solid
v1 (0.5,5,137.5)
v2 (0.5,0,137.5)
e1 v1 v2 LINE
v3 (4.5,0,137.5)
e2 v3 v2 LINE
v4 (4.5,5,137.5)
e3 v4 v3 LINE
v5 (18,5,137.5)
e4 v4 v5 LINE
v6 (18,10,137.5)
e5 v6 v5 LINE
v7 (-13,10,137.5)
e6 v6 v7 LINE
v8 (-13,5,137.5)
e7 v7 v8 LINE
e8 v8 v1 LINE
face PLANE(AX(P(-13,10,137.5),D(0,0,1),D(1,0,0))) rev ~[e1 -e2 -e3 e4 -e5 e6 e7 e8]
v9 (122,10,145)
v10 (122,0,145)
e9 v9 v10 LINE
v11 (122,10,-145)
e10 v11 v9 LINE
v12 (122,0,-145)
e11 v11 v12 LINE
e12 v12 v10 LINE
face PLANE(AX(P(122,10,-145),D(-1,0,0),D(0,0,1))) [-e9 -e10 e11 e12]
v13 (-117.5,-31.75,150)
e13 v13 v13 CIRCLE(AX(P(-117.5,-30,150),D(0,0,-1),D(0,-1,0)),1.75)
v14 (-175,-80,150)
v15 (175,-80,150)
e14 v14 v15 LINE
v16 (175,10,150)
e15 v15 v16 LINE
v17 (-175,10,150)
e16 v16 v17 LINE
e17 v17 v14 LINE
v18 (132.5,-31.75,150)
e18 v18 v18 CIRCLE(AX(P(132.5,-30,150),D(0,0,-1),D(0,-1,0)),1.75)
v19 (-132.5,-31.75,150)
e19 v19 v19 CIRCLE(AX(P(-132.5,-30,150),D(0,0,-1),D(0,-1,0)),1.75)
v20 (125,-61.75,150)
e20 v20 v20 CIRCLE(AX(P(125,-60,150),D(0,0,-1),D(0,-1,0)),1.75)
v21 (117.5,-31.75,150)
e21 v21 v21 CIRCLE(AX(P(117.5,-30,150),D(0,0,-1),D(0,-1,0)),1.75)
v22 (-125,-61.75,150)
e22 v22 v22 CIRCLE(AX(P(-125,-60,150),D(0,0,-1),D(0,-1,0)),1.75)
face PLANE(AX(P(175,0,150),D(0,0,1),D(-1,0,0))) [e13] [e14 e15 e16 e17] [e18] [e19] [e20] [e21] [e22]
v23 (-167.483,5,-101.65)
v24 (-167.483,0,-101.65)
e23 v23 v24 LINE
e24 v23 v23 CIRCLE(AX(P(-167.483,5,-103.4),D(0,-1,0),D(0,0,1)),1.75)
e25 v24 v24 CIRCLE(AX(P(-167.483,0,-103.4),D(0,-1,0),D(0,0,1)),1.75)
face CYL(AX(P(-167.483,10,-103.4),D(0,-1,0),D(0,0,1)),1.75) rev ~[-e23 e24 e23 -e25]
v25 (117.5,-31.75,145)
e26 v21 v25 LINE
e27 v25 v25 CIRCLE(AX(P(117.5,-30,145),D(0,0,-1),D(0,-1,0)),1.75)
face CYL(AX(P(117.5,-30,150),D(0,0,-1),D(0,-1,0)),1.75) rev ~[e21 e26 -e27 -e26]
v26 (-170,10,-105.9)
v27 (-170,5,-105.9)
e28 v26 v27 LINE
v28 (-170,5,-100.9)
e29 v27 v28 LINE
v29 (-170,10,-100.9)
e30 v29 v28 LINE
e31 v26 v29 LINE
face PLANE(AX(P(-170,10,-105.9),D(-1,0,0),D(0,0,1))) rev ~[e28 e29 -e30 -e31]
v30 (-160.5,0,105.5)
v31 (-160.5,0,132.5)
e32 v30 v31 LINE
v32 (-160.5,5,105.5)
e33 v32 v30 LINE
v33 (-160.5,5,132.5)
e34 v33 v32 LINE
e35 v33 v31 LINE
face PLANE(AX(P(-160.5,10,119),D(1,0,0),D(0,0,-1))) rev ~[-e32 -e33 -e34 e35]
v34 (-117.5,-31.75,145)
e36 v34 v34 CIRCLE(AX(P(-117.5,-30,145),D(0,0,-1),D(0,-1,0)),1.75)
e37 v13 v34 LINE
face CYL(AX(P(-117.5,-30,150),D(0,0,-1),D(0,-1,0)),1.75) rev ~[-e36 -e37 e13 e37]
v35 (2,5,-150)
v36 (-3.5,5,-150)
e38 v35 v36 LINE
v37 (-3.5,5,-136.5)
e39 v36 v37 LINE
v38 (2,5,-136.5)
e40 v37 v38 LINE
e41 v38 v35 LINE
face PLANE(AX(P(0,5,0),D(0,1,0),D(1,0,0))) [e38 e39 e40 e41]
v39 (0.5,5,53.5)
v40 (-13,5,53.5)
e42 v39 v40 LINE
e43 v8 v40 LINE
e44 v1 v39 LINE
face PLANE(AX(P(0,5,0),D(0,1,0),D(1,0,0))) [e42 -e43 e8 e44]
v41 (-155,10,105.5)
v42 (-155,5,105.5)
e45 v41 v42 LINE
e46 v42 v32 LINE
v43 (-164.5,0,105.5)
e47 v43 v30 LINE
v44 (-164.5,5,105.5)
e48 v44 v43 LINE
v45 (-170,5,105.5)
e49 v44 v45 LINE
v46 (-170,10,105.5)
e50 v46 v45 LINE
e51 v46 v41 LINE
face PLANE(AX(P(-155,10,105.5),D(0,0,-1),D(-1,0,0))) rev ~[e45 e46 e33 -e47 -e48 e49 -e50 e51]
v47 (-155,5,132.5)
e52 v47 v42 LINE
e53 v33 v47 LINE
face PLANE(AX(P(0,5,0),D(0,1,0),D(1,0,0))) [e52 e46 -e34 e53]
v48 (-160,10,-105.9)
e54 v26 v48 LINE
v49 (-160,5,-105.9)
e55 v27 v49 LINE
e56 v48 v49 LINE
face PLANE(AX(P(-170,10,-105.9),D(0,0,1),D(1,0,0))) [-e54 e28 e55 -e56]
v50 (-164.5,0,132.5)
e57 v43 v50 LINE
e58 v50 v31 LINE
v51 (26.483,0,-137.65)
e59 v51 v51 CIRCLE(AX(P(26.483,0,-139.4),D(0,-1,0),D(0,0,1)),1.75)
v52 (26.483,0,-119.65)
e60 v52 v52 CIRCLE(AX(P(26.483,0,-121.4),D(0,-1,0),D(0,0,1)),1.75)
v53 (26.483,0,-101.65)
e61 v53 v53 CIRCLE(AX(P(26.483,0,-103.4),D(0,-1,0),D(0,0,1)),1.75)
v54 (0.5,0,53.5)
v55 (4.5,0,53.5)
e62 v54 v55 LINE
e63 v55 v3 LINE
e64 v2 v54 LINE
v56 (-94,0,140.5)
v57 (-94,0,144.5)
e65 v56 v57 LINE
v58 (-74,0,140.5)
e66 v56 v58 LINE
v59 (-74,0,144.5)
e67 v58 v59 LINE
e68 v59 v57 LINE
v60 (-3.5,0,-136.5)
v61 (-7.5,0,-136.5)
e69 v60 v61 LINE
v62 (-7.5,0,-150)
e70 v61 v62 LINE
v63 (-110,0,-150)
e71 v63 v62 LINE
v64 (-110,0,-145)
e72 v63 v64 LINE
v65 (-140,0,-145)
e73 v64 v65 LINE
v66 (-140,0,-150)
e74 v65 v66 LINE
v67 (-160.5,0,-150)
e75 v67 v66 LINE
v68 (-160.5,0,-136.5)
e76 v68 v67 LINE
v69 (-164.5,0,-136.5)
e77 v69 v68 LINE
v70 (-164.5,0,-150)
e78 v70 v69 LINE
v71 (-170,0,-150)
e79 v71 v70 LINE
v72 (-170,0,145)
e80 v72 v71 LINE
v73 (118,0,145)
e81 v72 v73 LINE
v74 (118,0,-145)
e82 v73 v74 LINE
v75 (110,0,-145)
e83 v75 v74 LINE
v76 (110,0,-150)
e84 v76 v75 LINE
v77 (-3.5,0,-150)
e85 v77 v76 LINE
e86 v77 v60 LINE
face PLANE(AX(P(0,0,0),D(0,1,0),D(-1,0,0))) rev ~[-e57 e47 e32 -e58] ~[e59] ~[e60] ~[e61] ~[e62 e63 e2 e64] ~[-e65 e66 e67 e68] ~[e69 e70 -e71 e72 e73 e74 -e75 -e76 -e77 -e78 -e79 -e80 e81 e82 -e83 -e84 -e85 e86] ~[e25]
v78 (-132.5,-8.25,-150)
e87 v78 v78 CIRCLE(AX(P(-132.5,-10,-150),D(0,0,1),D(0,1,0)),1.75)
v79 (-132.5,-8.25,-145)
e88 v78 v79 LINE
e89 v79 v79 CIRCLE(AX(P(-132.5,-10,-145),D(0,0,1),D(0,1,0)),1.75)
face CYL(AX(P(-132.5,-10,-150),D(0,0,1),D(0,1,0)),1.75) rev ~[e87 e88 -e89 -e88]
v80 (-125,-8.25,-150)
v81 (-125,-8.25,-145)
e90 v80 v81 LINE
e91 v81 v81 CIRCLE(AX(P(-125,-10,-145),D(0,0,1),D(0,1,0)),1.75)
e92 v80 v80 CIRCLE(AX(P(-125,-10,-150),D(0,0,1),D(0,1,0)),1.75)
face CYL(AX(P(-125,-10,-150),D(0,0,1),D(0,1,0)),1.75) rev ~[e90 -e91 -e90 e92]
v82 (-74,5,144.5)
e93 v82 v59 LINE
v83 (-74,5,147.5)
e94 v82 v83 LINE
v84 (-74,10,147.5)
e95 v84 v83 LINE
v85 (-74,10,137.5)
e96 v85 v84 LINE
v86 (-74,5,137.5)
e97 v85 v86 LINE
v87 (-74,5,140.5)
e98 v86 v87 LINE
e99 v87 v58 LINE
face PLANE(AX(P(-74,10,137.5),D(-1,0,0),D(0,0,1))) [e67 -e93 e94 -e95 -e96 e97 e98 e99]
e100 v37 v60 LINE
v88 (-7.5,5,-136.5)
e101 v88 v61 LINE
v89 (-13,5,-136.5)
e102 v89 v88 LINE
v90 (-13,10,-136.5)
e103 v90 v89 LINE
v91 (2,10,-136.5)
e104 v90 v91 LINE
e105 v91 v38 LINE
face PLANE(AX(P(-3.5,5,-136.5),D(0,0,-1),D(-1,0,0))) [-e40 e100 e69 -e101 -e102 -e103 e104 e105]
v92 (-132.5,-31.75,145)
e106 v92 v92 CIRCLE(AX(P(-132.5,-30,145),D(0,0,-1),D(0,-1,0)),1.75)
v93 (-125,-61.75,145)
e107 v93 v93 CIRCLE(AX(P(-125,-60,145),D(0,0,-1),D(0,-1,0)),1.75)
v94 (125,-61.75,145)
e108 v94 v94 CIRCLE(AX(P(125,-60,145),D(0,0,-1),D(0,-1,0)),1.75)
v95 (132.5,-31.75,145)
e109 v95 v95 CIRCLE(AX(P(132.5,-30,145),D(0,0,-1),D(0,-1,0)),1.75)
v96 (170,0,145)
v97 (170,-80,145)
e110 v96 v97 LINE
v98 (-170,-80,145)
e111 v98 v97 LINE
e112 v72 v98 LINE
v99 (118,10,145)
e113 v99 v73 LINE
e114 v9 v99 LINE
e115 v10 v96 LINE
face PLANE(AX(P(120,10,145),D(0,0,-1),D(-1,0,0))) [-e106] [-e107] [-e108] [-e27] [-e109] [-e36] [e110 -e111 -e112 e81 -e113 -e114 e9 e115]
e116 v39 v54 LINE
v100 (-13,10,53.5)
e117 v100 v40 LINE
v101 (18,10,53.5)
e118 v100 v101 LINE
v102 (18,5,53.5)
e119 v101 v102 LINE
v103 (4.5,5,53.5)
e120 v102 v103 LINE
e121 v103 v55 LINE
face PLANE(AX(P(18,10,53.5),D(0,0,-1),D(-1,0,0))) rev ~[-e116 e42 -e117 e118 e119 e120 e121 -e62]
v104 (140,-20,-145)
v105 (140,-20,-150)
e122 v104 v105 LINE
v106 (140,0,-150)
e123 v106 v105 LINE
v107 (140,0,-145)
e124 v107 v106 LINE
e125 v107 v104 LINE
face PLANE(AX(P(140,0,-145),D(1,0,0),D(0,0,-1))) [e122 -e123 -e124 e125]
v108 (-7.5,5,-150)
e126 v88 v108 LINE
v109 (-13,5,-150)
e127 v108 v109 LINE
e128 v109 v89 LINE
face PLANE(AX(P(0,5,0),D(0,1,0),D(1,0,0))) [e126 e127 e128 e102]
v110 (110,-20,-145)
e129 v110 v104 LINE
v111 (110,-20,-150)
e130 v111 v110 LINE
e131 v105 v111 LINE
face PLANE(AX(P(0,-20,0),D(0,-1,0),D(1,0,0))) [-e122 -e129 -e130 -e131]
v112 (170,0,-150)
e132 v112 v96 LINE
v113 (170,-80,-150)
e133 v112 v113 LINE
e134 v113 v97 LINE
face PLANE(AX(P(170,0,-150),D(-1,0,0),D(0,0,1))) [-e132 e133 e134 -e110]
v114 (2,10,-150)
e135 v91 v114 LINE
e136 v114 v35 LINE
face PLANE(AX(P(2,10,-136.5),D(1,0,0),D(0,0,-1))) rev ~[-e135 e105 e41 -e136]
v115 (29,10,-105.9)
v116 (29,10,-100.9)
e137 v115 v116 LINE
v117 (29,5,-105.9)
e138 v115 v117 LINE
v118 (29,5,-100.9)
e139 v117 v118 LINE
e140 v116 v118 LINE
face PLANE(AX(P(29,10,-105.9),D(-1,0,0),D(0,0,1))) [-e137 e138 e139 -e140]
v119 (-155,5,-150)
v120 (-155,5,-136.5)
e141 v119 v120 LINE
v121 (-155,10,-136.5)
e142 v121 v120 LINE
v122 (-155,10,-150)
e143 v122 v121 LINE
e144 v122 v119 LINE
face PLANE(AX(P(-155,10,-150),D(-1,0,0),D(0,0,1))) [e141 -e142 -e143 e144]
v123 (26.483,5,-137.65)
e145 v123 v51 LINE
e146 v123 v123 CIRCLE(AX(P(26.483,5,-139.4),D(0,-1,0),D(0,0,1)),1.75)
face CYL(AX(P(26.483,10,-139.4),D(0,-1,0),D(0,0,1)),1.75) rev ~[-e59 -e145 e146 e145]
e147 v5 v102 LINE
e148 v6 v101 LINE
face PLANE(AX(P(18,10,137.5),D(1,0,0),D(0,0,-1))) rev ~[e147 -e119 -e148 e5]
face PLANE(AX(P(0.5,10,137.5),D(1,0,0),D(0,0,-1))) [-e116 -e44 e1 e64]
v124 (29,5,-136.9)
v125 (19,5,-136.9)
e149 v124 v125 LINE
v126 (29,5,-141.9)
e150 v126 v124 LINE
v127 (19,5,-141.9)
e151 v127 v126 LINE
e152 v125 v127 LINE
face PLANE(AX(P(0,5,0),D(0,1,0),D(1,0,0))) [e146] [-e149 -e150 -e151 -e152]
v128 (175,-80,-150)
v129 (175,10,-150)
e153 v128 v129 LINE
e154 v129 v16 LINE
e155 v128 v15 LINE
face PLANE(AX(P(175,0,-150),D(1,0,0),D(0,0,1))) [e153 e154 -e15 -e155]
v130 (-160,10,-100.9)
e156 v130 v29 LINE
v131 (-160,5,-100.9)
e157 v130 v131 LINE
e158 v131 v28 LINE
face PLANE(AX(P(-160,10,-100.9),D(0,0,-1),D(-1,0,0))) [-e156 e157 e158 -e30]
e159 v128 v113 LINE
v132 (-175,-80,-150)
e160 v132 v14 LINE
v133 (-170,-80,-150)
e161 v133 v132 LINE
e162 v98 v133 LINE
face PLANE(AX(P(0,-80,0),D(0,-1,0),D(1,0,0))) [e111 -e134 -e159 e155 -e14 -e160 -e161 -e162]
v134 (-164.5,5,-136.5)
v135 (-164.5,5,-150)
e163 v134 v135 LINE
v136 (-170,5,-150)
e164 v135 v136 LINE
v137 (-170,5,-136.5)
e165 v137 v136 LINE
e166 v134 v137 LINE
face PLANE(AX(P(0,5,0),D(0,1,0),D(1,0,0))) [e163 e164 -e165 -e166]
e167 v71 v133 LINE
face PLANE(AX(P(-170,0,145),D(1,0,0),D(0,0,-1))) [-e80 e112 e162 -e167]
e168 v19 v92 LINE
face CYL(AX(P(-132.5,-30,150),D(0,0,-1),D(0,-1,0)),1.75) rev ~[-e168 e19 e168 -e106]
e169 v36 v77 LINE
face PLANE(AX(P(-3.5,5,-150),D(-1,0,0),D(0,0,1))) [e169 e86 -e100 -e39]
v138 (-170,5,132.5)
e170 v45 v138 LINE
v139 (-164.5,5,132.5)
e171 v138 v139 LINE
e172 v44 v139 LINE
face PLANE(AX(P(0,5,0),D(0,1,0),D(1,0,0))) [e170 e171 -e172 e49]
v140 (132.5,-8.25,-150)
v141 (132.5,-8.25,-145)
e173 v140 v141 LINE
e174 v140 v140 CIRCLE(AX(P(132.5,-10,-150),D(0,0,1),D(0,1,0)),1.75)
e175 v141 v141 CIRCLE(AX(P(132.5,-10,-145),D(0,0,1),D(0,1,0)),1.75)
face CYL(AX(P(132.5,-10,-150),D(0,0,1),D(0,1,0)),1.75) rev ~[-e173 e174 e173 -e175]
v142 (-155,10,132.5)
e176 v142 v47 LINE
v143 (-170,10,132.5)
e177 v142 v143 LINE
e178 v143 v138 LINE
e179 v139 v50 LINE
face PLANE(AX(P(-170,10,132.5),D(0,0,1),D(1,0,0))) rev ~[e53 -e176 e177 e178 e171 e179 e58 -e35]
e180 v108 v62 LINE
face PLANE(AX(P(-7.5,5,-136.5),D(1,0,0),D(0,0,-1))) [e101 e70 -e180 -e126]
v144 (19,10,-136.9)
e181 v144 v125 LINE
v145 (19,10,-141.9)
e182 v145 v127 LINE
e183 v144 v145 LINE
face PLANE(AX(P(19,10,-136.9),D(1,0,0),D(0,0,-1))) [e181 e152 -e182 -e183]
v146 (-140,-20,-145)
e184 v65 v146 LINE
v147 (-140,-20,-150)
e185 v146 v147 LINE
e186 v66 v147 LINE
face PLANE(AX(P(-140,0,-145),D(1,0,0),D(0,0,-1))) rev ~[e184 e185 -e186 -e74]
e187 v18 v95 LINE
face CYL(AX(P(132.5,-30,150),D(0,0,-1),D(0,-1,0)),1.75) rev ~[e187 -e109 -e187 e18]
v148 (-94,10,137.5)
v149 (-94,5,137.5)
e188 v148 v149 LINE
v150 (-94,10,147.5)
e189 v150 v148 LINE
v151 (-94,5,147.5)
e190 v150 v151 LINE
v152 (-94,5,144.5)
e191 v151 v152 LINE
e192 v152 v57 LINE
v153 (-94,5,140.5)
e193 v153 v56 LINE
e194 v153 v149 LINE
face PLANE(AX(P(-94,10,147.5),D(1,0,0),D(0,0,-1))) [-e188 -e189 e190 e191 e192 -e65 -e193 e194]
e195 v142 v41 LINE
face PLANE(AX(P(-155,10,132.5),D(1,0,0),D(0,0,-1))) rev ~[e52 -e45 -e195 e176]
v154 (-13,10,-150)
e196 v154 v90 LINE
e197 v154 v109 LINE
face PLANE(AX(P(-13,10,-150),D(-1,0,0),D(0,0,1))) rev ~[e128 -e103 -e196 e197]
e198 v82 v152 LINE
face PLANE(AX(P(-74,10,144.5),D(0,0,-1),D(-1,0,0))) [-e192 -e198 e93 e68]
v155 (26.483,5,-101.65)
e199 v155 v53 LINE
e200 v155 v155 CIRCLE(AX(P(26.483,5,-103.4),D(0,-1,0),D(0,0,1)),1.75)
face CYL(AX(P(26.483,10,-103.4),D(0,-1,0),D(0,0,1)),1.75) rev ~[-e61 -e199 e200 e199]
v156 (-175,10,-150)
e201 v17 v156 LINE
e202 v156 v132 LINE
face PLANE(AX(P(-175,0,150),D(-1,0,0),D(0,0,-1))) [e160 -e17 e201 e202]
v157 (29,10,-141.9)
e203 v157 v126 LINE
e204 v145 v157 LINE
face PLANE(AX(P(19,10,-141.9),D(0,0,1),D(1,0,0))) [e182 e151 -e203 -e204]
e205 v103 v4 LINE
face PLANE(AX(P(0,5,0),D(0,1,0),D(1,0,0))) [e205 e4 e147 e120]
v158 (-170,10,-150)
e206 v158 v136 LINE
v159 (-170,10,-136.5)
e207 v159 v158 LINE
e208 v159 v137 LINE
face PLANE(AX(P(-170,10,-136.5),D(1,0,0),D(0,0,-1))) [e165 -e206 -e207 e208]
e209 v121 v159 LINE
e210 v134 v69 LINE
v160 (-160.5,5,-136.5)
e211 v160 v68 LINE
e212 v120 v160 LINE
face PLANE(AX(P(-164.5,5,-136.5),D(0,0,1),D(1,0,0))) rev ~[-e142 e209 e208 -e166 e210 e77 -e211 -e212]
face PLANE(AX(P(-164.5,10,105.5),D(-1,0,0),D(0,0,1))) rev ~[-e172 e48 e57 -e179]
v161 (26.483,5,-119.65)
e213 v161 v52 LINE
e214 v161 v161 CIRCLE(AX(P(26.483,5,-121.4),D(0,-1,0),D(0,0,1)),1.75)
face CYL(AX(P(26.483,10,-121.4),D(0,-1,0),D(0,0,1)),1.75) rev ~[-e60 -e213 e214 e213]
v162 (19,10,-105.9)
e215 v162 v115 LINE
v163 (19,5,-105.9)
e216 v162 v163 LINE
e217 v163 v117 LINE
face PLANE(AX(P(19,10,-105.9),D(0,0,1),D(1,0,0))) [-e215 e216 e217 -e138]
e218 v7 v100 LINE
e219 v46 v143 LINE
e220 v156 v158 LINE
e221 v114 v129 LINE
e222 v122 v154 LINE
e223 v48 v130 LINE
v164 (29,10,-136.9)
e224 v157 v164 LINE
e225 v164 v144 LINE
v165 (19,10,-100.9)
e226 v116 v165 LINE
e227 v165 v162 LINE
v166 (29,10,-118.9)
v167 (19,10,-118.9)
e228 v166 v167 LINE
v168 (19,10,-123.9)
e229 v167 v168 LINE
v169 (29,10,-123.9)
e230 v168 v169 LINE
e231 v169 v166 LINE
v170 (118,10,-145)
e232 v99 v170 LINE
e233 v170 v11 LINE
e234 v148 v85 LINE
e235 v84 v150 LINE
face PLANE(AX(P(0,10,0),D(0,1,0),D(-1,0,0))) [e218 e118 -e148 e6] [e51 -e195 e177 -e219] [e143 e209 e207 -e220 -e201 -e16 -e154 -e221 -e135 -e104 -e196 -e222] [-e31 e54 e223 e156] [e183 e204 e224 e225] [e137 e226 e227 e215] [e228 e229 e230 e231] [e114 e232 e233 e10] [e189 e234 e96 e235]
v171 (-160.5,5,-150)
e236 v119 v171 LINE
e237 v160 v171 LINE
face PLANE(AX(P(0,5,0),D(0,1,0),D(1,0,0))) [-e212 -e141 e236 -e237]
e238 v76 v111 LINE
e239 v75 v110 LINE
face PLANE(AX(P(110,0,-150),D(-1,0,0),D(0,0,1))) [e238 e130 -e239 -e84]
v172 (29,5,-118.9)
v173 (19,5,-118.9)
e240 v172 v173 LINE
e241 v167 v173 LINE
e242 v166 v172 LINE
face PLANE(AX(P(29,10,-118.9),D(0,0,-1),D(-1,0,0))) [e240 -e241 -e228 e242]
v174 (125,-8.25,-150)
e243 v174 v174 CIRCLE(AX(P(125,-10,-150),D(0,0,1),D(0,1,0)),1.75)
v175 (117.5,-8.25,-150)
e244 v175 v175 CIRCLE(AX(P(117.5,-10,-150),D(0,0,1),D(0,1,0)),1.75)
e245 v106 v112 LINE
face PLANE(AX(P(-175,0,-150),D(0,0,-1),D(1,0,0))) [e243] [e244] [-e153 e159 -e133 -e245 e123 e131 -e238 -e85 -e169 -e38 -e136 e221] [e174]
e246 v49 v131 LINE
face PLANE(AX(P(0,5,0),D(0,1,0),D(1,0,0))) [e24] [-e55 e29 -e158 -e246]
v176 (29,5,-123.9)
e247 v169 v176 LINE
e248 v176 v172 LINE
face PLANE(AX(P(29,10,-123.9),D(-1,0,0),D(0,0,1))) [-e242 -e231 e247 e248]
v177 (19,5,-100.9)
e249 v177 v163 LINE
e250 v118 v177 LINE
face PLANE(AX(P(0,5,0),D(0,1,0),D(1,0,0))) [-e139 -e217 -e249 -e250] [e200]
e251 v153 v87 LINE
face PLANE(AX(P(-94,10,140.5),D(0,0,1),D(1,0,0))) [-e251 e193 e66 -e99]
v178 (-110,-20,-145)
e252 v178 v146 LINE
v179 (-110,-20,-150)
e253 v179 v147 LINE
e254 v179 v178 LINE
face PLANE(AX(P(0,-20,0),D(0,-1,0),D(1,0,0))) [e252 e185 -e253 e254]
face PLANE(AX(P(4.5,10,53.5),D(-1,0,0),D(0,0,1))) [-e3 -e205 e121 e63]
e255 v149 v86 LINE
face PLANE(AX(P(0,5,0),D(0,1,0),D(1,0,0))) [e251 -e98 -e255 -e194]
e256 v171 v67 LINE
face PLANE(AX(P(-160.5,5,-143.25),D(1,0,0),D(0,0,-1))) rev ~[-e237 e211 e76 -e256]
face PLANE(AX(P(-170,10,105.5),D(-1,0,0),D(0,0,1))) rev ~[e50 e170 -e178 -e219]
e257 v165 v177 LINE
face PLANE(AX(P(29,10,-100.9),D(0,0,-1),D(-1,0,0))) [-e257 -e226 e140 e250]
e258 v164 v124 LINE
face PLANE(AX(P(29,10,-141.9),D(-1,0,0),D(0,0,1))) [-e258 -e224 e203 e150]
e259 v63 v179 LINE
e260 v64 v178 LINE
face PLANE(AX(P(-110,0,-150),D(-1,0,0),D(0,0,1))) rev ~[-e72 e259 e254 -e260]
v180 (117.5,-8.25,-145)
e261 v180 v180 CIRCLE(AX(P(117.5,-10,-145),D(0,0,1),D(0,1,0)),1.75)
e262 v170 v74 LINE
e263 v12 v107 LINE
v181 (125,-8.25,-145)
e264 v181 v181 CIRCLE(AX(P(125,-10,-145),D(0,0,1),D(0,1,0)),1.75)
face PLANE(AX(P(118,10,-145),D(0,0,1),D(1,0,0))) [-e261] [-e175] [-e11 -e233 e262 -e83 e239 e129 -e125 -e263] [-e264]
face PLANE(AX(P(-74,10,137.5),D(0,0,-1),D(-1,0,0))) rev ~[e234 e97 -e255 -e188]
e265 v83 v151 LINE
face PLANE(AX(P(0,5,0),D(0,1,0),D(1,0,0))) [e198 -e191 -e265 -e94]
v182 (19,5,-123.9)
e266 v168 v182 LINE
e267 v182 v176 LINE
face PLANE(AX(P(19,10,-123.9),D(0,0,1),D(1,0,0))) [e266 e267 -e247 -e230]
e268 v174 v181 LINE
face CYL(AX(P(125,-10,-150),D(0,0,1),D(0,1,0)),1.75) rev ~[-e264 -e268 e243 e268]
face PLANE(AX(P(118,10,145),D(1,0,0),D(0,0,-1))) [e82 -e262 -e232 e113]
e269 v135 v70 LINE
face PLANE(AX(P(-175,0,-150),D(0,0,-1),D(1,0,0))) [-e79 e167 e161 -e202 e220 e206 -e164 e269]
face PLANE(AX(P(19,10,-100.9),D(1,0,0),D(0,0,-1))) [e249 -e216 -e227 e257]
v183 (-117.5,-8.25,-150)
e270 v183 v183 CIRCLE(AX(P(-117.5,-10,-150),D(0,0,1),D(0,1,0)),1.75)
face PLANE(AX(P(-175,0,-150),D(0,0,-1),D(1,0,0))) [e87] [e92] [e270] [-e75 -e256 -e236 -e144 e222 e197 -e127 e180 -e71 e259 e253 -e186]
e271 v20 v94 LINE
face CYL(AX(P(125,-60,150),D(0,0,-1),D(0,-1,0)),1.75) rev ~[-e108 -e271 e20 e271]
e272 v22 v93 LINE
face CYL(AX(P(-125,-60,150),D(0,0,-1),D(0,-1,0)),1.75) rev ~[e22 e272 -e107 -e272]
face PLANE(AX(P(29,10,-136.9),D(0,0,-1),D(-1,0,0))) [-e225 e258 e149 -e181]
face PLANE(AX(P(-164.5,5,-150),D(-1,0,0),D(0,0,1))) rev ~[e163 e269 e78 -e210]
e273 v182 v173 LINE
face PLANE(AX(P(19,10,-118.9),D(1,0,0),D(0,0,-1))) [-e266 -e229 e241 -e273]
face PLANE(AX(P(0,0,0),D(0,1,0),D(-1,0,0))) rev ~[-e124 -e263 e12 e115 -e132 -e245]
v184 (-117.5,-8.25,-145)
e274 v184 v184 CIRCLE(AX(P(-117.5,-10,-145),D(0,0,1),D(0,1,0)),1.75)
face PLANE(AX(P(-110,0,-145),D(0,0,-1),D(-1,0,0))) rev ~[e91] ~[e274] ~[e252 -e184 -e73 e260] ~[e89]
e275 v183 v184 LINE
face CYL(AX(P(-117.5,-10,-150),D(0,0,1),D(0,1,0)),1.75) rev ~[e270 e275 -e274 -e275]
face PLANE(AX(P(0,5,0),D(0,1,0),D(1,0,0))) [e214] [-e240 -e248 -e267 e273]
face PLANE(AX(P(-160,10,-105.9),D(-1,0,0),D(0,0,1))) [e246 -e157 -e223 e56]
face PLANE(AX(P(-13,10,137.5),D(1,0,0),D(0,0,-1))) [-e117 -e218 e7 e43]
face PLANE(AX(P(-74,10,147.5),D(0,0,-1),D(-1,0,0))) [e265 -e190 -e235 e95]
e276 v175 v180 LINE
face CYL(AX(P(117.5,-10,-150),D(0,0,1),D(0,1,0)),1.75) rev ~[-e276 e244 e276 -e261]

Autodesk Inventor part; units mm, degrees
ref_plane "YZ Plane" through (0, 0, 0) normal (1, 0, 0) x (0, 1, 0)
ref_plane "XZ Plane" through (0, 0, 0) normal (0, 1, 0) x (-1, 0, 0)
ref_plane "XY Plane" through (0, 0, 0) normal (0, 0, 1) x (1, 0, 0)
sketch "Sketch2" plane through (0, 0, 0) normal (0, 1, 0) x (-1, 0, 0)
  line L0 (-175, 150) -> (175, 150)
  line L1 (175, 150) -> (175, -150)
  line L2 (175, -150) -> (-175, -150)
  line L3 (-175, -150) -> (-175, 150)
  line L4 (-175, 150) -> (175, -150) construction
  line L5 (175, 150) -> (-175, -150) construction
  point P0 (0, 0)
  dimension "d6" = 350
  dimension "d7" = 300
extrude "Extrusion1" add sketch "Sketch2" along normal blind 10
sketch "Sketch4" plane through (0, 10, 0) normal (0, 1, 0) x (1, 0, 0)
  line L0 (-175, -150) -> (175, -150) projected
  line L1 (-170, -132.5) -> (-155, -132.5)
  line L2 (-155, -132.5) -> (-155, -105.5)
  line L3 (-155, -105.5) -> (-170, -105.5)
  line L4 (-170, -105.5) -> (-170, -132.5)
  point P0 (0, 0)
  point P1 (-170, -142.5)
  point P2 (-13, -145)
  point P3 (-170, -142.5)
  dimension "d122" = 15
  dimension "d123" = 27
sketch "Sketch5" plane through (0, 10, 0) normal (0, 1, 0) x (1, 0, 0)
  line L0 (-155, -117.5) -> (-155, -142.5) projected
  line L1 (-175, -150) -> (175, -150) projected
  line L2 (-13, -137.5) -> (18, -137.5)
  line L3 (18, -137.5) -> (18, -53.5)
  line L4 (18, -53.5) -> (-13, -53.5)
  line L5 (-13, -137.5) -> (-13, -53.5)
  point P0 (0, 0)
  dimension "d24" = 31
  dimension "d25" = 84
extrude "Extrusion3" cut sketch "Sketch5" against normal blind 5
sketch "Sketch7" plane through (0, 10, 0) normal (0, 1, 0) x (1, 0, 0)
  line L0 (-13, -53.5) -> (18, -53.5) projected
  line L1 (175, 150) -> (-175, 150) projected
  line L2 (-170, 150) -> (-155, 150)
  line L3 (-155, 150) -> (-155, 136.5)
  line L4 (-155, 136.5) -> (-170, 136.5)
  line L5 (-170, 136.5) -> (-170, 150)
  line L6 (-13, 136.5) -> (2, 136.5)
  line L7 (2, 136.5) -> (2, 150)
  line L8 (2, 150) -> (-13, 150)
  line L9 (-13, 150) -> (-13, 136.5)
  point P0 (0, 0)
  point P1 (-13, -63.5)
  point P2 (-170, -117.5)
  point P3 (-155, 150)
  point P4 (-170, 150)
  dimension "d34" = 15
  dimension "d35" = 13.5
  dimension "d39" = 15
  dimension "d53" = 13.5
extrude "Extrusion6" cut sketch "Sketch7" against normal blind 5
sketch "Sketch8" plane through (0, 5, 0) normal (0, 1, 0) x (1, 0, 0)
  line L0 (2, 150) -> (2, 136.5) projected
  line L1 (-13, 136.5) -> (-13, 150) projected
  line L2 (-3.5, 136.5) -> (-7.5, 136.5)
  line L3 (-7.5, 136.5) -> (-7.5, 150)
  line L4 (-7.5, 150) -> (-3.5, 150)
  line L5 (-3.5, 150) -> (-3.5, 136.5)
  line L6 (-3.5, 136.5) -> (-7.5, 150) construction
  line L7 (-7.5, 136.5) -> (-3.5, 150) construction
  line L8 (-170, 136.5) -> (-170, 150) projected
  line L9 (-170, 143.25) -> (-155, 143.25)
  line L10 (-155, 150) -> (-155, 136.5) projected
  line L11 (-164.5, 136.5) -> (-160.5, 136.5)
  line L12 (-160.5, 136.5) -> (-160.5, 150)
  line L13 (-160.5, 150) -> (-164.5, 150)
  line L14 (-164.5, 150) -> (-164.5, 136.5)
  line L15 (-164.5, 136.5) -> (-160.5, 150) construction
  line L16 (-160.5, 136.5) -> (-164.5, 150) construction
  point P0 (0, 0)
  point P1 (-5.5, 143.25)
  point P2 (-162.5, 143.25)
  dimension "d42" = 4
  dimension "d43" = 13.5
  dimension "d44" = 4
  dimension "d45" = 13.5
extrude "Extrusion7" cut sketch "Sketch8" against normal through all
sketch "Sketch9" plane through (0, 10, 0) normal (0, 1, 0) x (1, 0, 0)
  point P0 (0, 0)
sketch "Sketch12" plane through (0, 10, 0) normal (0, 1, 0) x (1, 0, 0)
  line L0 (-175, -150) -> (175, -150) projected
  line L1 (175, -150) -> (175, -145)
  line L2 (175, -150) -> (175, 150) projected
  line L3 (175, -145) -> (120, -145)
  line L4 (118, 145) -> (122, 145)
  line L5 (122, 145) -> (122, -145)
  line L6 (122, -145) -> (118, -145)
  line L7 (118, -145) -> (118, 145)
  line L8 (118, 145) -> (122, -145) construction
  line L9 (122, 145) -> (118, -145) construction
  point P0 (0, 0)
  point P1 (120, 0)
  dimension "d57" = 5
  dimension "d58" = 55
  dimension "d59" = 4
extrude "Extrusion11" cut sketch "Sketch12" against normal blind 10
sketch "Sketch13" plane through (0, 0, 0) normal (0, -1, 0) x (1, 0, 0)
  line L0 (-175, 150) -> (175, 150) projected
  line L1 (175, -150) -> (170, -150)
  line L2 (170, -150) -> (170, 150)
  line L3 (170, 150) -> (175, 150)
  line L4 (175, 150) -> (175, -150)
  line L5 (-175, -150) -> (-175, 150) projected
  line L6 (175, 150) -> (-175, 150)
  line L7 (-175, 150) -> (-175, 145)
  line L8 (-175, 145) -> (175, 145)
  line L9 (175, 145) -> (175, 150)
  line L10 (-175, 150) -> (-170, 150)
  line L11 (-170, 150) -> (-170, -150)
  line L12 (-170, -150) -> (-175, -150)
  line L13 (-175, -150) -> (-175, 150)
  point P0 (0, 0)
  point P1 (175, 150)
  point P2 (-170, 145)
  point P3 (170, 145)
  dimension "d62" = 5
  dimension "d63" = 5
  dimension "d64" = 5
extrude "Extrusion12" add sketch "Sketch13" along normal blind 80
sketch "Sketch14" plane through (0, 10, 0) normal (0, 1, 0) x (1, 0, 0)
  line L0 (2, 150) -> (2, 136.5) projected
  line L1 (2, 150) -> (19, 150)
  line L2 (170, 150) -> (-3.5, 150) projected
  line L3 (19, 150) -> (19, 141.9)
  line L4 (19, 141.9) -> (29, 141.9)
  line L5 (29, 141.9) -> (29, 136.9)
  line L6 (29, 136.9) -> (19, 136.9)
  line L7 (19, 136.9) -> (19, 141.9)
  line L8 (19, 123.9) -> (29, 123.9)
  line L9 (29, 123.9) -> (29, 118.9)
  line L10 (29, 118.9) -> (19, 118.9)
  line L11 (19, 118.9) -> (19, 123.9)
  line L12 (19, 121.4) -> (19, 105.9)
  line L13 (19, 105.9) -> (29, 105.9)
  line L14 (29, 105.9) -> (29, 100.9)
  line L15 (29, 100.9) -> (19, 100.9)
  line L16 (19, 100.9) -> (19, 105.9)
  line L17 (-170, 150) -> (-170, -145) projected
  line L18 (-170, 105.9) -> (-160, 105.9)
  line L19 (-160, 105.9) -> (-160, 100.9)
  line L20 (-160, 100.9) -> (-170, 100.9)
  line L21 (-170, 100.9) -> (-170, 105.9)
  point P0 (0, 0)
  dimension "d67" = 17
  dimension "d68" = 8.1
  dimension "d70" = 5
  dimension "d72" = 5
  dimension "d73" = 15.5
  dimension "d74" = 5
  dimension "d75" = 10
extrude "Extrusion13" cut sketch "Sketch14" against normal blind 5
sketch "Sketch15" plane through (0, 10, 0) normal (0, 1, 0) x (1, 0, 0)
  line L0 (29, 123.9) -> (29, 118.9) projected
  line L1 (29, 121.4) -> (26.483, 121.4)
  line L2 (29, 105.9) -> (29, 100.9) projected
  line L3 (29, 103.4) -> (26.483, 103.4)
  line L4 (29, 141.9) -> (29, 136.9) projected
  line L5 (29, 139.4) -> (26.483, 139.4)
  line L6 (-170, 150) -> (-170, -145) projected
  line L7 (-170, 103.4) -> (-170, 105.917)
  line L8 (-170, 103.4) -> (-167.483, 103.4)
  point P0 (0, 0)
  dimension "d78" = 2.517
  dimension "d79" = 2.517
  dimension "d80" = 2.517
  dimension "d81" = 2.517
  dimension "d82" = 2.517
hole "Hole1" at (26.483, 10, -139.4) at (26.483, 10, -121.4) at (26.483, 10, -103.4) at (-167.483, 10, -103.4) direction (0, -1, 0) diameter 3.5 end through all
sketch "Sketch16" plane through (0, 0, 0) normal (0, -1, 0) x (1, 0, 0)
  line L0 (170, -150) -> (170, 145) projected
  line L1 (170, -150) -> (140, -150)
  line L2 (175, -150) -> (2, -150) projected
  line L3 (140, -150) -> (110, -150)
  line L4 (110, -150) -> (110, -145)
  line L5 (110, -145) -> (140, -145)
  line L6 (140, -145) -> (140, -150)
  line L7 (-170, 145) -> (-170, -150) projected
  line L8 (-170, -150) -> (-140, -150)
  line L9 (-7.5, -150) -> (-160.5, -150) projected
  line L10 (-140, -150) -> (-110, -150)
  line L11 (-110, -150) -> (-110, -145)
  line L12 (-110, -145) -> (-140, -145)
  line L13 (-140, -145) -> (-140, -150)
  point P0 (0, 0)
  dimension "d90" = 30
  dimension "d91" = 30
  dimension "d92" = 5
  dimension "d93" = 30
  dimension "d94" = 30
extrude "Extrusion14" add sketch "Sketch16" along normal blind 20
sketch "Sketch17" plane through (-13, 10, -150) normal (0, 0, -1) x (-1, 0, 0)
  line L0 (-153, -10) -> (-153, -30) projected
  line L1 (-153, -20) -> (-123, -20)
  line L2 (-123, -10) -> (-123, -30) projected
  line L3 (97, -10) -> (97, -30) projected
  line L4 (97, -20) -> (127, -20)
  line L5 (127, -10) -> (127, -30) projected
  point P0 (-13, -10)
  point P1 (-138, -20)
  point P2 (-145.5, -20)
  point P3 (-130.5, -20)
  point P4 (112, -20)
  point P5 (104.5, -20)
  point P6 (119.5, -20)
hole "Hole2" at (-132.5, -10, -150) at (-125, -10, -150) at (-117.5, -10, -150) at (117.5, -10, -150) at (125, -10, -150) at (132.5, -10, -150) direction (0, 0, 1) diameter 3.5 depth 5
sketch "Sketch18" plane through (-175, 10, 150) normal (0, 0, 1) x (1, 0, 0)
  line L0 (350, -90) -> (350, 0) projected
  line L1 (350, 0) -> (300, 0)
  line L2 (0, 0) -> (350, 0) projected
  line L3 (300, 0) -> (300, -70)
  line L4 (0, 0) -> (50, 0)
  line L5 (50, 0) -> (50, -70)
  point P0 (175, -10)
  point P1 (292.5, -40)
  point P2 (307.5, -40)
  point P3 (57.5, -40)
  point P4 (42.5, -40)
  dimension "d104" = 50
  dimension "d105" = 70
  dimension "d106" = 50
  dimension "d107" = 70
hole "Hole4" at (-132.5, -30, 150) at (-117.5, -30, 150) at (-125, -60, 150) at (132.5, -30, 150) at (117.5, -30, 150) at (125, -60, 150) direction (0, 0, -1) diameter 3.5 depth 5
extrude "Extrusion15" cut sketch "Sketch4" against normal blind 5
sketch "Sketch19" plane through (0, 10, 0) normal (0, 1, 0) x (1, 0, 0)
  line L0 (-170, -132.5) -> (-170, -105.5) projected
  line L1 (-170, -119) -> (-155, -119)
  line L2 (-155, -105.5) -> (-155, -132.5) projected
  line L3 (-170, -105.5) -> (-155, -105.5) projected
  line L4 (-164.5, -132.5) -> (-160.5, -132.5)
  line L5 (-160.5, -132.5) -> (-160.5, -105.5)
  line L6 (-160.5, -105.5) -> (-164.5, -105.5)
  line L7 (-164.5, -105.5) -> (-164.5, -132.5)
  line L8 (-164.5, -132.5) -> (-160.5, -105.5) construction
  line L9 (-160.5, -132.5) -> (-164.5, -105.5) construction
  point P0 (0, 0)
  point P1 (-162.5, -119)
  dimension "d126" = 4
extrude "Extrusion16" cut sketch "Sketch19" against normal blind 10 contours L7 L3 L5 L1 | L1 L5 L4 L7
sketch "Sketch20" plane through (0, 10, 0) normal (0, 1, 0) x (1, 0, 0)
  line L0 (-13, -137.5) -> (-13, -53.5) projected
  line L1 (-13, -53.5) -> (18, -53.5) projected
  line L2 (4.5, -137.5) -> (0.5, -137.5)
  line L3 (0.5, -137.5) -> (0.5, -53.5)
  line L4 (0.5, -53.5) -> (4.5, -53.5)
  line L5 (4.5, -53.5) -> (4.5, -137.5)
  line L6 (4.5, -137.5) -> (0.5, -53.5) construction
  line L7 (0.5, -137.5) -> (4.5, -53.5) construction
  point P0 (0, 0)
  point P1 (2.5, -95.5)
  dimension "d129" = 4
extrude "Extrusion17" cut sketch "Sketch20" against normal blind 10
sketch "Sketch21" plane through (0, 10, 0) normal (0, 1, 0) x (1, 0, 0)
  line L0 (18, -137.5) -> (-13, -137.5) projected
  line L1 (-13, -137.5) -> (-155, -137.5)
  line L2 (-84, -137.5) -> (-84, -142.5)
  line L3 (-74, -147.5) -> (-94, -147.5)
  line L4 (-94, -147.5) -> (-94, -137.5)
  line L5 (-94, -137.5) -> (-74, -137.5)
  line L6 (-74, -137.5) -> (-74, -147.5)
  line L7 (-74, -147.5) -> (-94, -137.5) construction
  line L8 (-94, -147.5) -> (-74, -137.5) construction
  point P0 (0, 0)
  dimension "d132" = 5
  dimension "d133" = 20
extrude "Extrusion18" cut sketch "Sketch21" against normal blind 5
sketch "Sketch22" plane through (0, 10, 0) normal (0, 1, 0) x (1, 0, 0)
  line L0 (-94, -147.5) -> (-94, -137.5) projected
  line L1 (-94, -142.5) -> (-74, -142.5)
  line L2 (-74, -137.5) -> (-74, -147.5) projected
  line L3 (-74, -144.5) -> (-94, -144.5)
  line L4 (-94, -144.5) -> (-94, -140.5)
  line L5 (-94, -140.5) -> (-74, -140.5)
  line L6 (-74, -140.5) -> (-74, -144.5)
  line L7 (-74, -144.5) -> (-94, -140.5) construction
  line L8 (-94, -144.5) -> (-74, -140.5) construction
  point P0 (0, 0)
  point P1 (-84, -142.5)
  dimension "d136" = 4
extrude "Extrusion19" cut sketch "Sketch22" against normal blind 10
properties part number "Venstre"
